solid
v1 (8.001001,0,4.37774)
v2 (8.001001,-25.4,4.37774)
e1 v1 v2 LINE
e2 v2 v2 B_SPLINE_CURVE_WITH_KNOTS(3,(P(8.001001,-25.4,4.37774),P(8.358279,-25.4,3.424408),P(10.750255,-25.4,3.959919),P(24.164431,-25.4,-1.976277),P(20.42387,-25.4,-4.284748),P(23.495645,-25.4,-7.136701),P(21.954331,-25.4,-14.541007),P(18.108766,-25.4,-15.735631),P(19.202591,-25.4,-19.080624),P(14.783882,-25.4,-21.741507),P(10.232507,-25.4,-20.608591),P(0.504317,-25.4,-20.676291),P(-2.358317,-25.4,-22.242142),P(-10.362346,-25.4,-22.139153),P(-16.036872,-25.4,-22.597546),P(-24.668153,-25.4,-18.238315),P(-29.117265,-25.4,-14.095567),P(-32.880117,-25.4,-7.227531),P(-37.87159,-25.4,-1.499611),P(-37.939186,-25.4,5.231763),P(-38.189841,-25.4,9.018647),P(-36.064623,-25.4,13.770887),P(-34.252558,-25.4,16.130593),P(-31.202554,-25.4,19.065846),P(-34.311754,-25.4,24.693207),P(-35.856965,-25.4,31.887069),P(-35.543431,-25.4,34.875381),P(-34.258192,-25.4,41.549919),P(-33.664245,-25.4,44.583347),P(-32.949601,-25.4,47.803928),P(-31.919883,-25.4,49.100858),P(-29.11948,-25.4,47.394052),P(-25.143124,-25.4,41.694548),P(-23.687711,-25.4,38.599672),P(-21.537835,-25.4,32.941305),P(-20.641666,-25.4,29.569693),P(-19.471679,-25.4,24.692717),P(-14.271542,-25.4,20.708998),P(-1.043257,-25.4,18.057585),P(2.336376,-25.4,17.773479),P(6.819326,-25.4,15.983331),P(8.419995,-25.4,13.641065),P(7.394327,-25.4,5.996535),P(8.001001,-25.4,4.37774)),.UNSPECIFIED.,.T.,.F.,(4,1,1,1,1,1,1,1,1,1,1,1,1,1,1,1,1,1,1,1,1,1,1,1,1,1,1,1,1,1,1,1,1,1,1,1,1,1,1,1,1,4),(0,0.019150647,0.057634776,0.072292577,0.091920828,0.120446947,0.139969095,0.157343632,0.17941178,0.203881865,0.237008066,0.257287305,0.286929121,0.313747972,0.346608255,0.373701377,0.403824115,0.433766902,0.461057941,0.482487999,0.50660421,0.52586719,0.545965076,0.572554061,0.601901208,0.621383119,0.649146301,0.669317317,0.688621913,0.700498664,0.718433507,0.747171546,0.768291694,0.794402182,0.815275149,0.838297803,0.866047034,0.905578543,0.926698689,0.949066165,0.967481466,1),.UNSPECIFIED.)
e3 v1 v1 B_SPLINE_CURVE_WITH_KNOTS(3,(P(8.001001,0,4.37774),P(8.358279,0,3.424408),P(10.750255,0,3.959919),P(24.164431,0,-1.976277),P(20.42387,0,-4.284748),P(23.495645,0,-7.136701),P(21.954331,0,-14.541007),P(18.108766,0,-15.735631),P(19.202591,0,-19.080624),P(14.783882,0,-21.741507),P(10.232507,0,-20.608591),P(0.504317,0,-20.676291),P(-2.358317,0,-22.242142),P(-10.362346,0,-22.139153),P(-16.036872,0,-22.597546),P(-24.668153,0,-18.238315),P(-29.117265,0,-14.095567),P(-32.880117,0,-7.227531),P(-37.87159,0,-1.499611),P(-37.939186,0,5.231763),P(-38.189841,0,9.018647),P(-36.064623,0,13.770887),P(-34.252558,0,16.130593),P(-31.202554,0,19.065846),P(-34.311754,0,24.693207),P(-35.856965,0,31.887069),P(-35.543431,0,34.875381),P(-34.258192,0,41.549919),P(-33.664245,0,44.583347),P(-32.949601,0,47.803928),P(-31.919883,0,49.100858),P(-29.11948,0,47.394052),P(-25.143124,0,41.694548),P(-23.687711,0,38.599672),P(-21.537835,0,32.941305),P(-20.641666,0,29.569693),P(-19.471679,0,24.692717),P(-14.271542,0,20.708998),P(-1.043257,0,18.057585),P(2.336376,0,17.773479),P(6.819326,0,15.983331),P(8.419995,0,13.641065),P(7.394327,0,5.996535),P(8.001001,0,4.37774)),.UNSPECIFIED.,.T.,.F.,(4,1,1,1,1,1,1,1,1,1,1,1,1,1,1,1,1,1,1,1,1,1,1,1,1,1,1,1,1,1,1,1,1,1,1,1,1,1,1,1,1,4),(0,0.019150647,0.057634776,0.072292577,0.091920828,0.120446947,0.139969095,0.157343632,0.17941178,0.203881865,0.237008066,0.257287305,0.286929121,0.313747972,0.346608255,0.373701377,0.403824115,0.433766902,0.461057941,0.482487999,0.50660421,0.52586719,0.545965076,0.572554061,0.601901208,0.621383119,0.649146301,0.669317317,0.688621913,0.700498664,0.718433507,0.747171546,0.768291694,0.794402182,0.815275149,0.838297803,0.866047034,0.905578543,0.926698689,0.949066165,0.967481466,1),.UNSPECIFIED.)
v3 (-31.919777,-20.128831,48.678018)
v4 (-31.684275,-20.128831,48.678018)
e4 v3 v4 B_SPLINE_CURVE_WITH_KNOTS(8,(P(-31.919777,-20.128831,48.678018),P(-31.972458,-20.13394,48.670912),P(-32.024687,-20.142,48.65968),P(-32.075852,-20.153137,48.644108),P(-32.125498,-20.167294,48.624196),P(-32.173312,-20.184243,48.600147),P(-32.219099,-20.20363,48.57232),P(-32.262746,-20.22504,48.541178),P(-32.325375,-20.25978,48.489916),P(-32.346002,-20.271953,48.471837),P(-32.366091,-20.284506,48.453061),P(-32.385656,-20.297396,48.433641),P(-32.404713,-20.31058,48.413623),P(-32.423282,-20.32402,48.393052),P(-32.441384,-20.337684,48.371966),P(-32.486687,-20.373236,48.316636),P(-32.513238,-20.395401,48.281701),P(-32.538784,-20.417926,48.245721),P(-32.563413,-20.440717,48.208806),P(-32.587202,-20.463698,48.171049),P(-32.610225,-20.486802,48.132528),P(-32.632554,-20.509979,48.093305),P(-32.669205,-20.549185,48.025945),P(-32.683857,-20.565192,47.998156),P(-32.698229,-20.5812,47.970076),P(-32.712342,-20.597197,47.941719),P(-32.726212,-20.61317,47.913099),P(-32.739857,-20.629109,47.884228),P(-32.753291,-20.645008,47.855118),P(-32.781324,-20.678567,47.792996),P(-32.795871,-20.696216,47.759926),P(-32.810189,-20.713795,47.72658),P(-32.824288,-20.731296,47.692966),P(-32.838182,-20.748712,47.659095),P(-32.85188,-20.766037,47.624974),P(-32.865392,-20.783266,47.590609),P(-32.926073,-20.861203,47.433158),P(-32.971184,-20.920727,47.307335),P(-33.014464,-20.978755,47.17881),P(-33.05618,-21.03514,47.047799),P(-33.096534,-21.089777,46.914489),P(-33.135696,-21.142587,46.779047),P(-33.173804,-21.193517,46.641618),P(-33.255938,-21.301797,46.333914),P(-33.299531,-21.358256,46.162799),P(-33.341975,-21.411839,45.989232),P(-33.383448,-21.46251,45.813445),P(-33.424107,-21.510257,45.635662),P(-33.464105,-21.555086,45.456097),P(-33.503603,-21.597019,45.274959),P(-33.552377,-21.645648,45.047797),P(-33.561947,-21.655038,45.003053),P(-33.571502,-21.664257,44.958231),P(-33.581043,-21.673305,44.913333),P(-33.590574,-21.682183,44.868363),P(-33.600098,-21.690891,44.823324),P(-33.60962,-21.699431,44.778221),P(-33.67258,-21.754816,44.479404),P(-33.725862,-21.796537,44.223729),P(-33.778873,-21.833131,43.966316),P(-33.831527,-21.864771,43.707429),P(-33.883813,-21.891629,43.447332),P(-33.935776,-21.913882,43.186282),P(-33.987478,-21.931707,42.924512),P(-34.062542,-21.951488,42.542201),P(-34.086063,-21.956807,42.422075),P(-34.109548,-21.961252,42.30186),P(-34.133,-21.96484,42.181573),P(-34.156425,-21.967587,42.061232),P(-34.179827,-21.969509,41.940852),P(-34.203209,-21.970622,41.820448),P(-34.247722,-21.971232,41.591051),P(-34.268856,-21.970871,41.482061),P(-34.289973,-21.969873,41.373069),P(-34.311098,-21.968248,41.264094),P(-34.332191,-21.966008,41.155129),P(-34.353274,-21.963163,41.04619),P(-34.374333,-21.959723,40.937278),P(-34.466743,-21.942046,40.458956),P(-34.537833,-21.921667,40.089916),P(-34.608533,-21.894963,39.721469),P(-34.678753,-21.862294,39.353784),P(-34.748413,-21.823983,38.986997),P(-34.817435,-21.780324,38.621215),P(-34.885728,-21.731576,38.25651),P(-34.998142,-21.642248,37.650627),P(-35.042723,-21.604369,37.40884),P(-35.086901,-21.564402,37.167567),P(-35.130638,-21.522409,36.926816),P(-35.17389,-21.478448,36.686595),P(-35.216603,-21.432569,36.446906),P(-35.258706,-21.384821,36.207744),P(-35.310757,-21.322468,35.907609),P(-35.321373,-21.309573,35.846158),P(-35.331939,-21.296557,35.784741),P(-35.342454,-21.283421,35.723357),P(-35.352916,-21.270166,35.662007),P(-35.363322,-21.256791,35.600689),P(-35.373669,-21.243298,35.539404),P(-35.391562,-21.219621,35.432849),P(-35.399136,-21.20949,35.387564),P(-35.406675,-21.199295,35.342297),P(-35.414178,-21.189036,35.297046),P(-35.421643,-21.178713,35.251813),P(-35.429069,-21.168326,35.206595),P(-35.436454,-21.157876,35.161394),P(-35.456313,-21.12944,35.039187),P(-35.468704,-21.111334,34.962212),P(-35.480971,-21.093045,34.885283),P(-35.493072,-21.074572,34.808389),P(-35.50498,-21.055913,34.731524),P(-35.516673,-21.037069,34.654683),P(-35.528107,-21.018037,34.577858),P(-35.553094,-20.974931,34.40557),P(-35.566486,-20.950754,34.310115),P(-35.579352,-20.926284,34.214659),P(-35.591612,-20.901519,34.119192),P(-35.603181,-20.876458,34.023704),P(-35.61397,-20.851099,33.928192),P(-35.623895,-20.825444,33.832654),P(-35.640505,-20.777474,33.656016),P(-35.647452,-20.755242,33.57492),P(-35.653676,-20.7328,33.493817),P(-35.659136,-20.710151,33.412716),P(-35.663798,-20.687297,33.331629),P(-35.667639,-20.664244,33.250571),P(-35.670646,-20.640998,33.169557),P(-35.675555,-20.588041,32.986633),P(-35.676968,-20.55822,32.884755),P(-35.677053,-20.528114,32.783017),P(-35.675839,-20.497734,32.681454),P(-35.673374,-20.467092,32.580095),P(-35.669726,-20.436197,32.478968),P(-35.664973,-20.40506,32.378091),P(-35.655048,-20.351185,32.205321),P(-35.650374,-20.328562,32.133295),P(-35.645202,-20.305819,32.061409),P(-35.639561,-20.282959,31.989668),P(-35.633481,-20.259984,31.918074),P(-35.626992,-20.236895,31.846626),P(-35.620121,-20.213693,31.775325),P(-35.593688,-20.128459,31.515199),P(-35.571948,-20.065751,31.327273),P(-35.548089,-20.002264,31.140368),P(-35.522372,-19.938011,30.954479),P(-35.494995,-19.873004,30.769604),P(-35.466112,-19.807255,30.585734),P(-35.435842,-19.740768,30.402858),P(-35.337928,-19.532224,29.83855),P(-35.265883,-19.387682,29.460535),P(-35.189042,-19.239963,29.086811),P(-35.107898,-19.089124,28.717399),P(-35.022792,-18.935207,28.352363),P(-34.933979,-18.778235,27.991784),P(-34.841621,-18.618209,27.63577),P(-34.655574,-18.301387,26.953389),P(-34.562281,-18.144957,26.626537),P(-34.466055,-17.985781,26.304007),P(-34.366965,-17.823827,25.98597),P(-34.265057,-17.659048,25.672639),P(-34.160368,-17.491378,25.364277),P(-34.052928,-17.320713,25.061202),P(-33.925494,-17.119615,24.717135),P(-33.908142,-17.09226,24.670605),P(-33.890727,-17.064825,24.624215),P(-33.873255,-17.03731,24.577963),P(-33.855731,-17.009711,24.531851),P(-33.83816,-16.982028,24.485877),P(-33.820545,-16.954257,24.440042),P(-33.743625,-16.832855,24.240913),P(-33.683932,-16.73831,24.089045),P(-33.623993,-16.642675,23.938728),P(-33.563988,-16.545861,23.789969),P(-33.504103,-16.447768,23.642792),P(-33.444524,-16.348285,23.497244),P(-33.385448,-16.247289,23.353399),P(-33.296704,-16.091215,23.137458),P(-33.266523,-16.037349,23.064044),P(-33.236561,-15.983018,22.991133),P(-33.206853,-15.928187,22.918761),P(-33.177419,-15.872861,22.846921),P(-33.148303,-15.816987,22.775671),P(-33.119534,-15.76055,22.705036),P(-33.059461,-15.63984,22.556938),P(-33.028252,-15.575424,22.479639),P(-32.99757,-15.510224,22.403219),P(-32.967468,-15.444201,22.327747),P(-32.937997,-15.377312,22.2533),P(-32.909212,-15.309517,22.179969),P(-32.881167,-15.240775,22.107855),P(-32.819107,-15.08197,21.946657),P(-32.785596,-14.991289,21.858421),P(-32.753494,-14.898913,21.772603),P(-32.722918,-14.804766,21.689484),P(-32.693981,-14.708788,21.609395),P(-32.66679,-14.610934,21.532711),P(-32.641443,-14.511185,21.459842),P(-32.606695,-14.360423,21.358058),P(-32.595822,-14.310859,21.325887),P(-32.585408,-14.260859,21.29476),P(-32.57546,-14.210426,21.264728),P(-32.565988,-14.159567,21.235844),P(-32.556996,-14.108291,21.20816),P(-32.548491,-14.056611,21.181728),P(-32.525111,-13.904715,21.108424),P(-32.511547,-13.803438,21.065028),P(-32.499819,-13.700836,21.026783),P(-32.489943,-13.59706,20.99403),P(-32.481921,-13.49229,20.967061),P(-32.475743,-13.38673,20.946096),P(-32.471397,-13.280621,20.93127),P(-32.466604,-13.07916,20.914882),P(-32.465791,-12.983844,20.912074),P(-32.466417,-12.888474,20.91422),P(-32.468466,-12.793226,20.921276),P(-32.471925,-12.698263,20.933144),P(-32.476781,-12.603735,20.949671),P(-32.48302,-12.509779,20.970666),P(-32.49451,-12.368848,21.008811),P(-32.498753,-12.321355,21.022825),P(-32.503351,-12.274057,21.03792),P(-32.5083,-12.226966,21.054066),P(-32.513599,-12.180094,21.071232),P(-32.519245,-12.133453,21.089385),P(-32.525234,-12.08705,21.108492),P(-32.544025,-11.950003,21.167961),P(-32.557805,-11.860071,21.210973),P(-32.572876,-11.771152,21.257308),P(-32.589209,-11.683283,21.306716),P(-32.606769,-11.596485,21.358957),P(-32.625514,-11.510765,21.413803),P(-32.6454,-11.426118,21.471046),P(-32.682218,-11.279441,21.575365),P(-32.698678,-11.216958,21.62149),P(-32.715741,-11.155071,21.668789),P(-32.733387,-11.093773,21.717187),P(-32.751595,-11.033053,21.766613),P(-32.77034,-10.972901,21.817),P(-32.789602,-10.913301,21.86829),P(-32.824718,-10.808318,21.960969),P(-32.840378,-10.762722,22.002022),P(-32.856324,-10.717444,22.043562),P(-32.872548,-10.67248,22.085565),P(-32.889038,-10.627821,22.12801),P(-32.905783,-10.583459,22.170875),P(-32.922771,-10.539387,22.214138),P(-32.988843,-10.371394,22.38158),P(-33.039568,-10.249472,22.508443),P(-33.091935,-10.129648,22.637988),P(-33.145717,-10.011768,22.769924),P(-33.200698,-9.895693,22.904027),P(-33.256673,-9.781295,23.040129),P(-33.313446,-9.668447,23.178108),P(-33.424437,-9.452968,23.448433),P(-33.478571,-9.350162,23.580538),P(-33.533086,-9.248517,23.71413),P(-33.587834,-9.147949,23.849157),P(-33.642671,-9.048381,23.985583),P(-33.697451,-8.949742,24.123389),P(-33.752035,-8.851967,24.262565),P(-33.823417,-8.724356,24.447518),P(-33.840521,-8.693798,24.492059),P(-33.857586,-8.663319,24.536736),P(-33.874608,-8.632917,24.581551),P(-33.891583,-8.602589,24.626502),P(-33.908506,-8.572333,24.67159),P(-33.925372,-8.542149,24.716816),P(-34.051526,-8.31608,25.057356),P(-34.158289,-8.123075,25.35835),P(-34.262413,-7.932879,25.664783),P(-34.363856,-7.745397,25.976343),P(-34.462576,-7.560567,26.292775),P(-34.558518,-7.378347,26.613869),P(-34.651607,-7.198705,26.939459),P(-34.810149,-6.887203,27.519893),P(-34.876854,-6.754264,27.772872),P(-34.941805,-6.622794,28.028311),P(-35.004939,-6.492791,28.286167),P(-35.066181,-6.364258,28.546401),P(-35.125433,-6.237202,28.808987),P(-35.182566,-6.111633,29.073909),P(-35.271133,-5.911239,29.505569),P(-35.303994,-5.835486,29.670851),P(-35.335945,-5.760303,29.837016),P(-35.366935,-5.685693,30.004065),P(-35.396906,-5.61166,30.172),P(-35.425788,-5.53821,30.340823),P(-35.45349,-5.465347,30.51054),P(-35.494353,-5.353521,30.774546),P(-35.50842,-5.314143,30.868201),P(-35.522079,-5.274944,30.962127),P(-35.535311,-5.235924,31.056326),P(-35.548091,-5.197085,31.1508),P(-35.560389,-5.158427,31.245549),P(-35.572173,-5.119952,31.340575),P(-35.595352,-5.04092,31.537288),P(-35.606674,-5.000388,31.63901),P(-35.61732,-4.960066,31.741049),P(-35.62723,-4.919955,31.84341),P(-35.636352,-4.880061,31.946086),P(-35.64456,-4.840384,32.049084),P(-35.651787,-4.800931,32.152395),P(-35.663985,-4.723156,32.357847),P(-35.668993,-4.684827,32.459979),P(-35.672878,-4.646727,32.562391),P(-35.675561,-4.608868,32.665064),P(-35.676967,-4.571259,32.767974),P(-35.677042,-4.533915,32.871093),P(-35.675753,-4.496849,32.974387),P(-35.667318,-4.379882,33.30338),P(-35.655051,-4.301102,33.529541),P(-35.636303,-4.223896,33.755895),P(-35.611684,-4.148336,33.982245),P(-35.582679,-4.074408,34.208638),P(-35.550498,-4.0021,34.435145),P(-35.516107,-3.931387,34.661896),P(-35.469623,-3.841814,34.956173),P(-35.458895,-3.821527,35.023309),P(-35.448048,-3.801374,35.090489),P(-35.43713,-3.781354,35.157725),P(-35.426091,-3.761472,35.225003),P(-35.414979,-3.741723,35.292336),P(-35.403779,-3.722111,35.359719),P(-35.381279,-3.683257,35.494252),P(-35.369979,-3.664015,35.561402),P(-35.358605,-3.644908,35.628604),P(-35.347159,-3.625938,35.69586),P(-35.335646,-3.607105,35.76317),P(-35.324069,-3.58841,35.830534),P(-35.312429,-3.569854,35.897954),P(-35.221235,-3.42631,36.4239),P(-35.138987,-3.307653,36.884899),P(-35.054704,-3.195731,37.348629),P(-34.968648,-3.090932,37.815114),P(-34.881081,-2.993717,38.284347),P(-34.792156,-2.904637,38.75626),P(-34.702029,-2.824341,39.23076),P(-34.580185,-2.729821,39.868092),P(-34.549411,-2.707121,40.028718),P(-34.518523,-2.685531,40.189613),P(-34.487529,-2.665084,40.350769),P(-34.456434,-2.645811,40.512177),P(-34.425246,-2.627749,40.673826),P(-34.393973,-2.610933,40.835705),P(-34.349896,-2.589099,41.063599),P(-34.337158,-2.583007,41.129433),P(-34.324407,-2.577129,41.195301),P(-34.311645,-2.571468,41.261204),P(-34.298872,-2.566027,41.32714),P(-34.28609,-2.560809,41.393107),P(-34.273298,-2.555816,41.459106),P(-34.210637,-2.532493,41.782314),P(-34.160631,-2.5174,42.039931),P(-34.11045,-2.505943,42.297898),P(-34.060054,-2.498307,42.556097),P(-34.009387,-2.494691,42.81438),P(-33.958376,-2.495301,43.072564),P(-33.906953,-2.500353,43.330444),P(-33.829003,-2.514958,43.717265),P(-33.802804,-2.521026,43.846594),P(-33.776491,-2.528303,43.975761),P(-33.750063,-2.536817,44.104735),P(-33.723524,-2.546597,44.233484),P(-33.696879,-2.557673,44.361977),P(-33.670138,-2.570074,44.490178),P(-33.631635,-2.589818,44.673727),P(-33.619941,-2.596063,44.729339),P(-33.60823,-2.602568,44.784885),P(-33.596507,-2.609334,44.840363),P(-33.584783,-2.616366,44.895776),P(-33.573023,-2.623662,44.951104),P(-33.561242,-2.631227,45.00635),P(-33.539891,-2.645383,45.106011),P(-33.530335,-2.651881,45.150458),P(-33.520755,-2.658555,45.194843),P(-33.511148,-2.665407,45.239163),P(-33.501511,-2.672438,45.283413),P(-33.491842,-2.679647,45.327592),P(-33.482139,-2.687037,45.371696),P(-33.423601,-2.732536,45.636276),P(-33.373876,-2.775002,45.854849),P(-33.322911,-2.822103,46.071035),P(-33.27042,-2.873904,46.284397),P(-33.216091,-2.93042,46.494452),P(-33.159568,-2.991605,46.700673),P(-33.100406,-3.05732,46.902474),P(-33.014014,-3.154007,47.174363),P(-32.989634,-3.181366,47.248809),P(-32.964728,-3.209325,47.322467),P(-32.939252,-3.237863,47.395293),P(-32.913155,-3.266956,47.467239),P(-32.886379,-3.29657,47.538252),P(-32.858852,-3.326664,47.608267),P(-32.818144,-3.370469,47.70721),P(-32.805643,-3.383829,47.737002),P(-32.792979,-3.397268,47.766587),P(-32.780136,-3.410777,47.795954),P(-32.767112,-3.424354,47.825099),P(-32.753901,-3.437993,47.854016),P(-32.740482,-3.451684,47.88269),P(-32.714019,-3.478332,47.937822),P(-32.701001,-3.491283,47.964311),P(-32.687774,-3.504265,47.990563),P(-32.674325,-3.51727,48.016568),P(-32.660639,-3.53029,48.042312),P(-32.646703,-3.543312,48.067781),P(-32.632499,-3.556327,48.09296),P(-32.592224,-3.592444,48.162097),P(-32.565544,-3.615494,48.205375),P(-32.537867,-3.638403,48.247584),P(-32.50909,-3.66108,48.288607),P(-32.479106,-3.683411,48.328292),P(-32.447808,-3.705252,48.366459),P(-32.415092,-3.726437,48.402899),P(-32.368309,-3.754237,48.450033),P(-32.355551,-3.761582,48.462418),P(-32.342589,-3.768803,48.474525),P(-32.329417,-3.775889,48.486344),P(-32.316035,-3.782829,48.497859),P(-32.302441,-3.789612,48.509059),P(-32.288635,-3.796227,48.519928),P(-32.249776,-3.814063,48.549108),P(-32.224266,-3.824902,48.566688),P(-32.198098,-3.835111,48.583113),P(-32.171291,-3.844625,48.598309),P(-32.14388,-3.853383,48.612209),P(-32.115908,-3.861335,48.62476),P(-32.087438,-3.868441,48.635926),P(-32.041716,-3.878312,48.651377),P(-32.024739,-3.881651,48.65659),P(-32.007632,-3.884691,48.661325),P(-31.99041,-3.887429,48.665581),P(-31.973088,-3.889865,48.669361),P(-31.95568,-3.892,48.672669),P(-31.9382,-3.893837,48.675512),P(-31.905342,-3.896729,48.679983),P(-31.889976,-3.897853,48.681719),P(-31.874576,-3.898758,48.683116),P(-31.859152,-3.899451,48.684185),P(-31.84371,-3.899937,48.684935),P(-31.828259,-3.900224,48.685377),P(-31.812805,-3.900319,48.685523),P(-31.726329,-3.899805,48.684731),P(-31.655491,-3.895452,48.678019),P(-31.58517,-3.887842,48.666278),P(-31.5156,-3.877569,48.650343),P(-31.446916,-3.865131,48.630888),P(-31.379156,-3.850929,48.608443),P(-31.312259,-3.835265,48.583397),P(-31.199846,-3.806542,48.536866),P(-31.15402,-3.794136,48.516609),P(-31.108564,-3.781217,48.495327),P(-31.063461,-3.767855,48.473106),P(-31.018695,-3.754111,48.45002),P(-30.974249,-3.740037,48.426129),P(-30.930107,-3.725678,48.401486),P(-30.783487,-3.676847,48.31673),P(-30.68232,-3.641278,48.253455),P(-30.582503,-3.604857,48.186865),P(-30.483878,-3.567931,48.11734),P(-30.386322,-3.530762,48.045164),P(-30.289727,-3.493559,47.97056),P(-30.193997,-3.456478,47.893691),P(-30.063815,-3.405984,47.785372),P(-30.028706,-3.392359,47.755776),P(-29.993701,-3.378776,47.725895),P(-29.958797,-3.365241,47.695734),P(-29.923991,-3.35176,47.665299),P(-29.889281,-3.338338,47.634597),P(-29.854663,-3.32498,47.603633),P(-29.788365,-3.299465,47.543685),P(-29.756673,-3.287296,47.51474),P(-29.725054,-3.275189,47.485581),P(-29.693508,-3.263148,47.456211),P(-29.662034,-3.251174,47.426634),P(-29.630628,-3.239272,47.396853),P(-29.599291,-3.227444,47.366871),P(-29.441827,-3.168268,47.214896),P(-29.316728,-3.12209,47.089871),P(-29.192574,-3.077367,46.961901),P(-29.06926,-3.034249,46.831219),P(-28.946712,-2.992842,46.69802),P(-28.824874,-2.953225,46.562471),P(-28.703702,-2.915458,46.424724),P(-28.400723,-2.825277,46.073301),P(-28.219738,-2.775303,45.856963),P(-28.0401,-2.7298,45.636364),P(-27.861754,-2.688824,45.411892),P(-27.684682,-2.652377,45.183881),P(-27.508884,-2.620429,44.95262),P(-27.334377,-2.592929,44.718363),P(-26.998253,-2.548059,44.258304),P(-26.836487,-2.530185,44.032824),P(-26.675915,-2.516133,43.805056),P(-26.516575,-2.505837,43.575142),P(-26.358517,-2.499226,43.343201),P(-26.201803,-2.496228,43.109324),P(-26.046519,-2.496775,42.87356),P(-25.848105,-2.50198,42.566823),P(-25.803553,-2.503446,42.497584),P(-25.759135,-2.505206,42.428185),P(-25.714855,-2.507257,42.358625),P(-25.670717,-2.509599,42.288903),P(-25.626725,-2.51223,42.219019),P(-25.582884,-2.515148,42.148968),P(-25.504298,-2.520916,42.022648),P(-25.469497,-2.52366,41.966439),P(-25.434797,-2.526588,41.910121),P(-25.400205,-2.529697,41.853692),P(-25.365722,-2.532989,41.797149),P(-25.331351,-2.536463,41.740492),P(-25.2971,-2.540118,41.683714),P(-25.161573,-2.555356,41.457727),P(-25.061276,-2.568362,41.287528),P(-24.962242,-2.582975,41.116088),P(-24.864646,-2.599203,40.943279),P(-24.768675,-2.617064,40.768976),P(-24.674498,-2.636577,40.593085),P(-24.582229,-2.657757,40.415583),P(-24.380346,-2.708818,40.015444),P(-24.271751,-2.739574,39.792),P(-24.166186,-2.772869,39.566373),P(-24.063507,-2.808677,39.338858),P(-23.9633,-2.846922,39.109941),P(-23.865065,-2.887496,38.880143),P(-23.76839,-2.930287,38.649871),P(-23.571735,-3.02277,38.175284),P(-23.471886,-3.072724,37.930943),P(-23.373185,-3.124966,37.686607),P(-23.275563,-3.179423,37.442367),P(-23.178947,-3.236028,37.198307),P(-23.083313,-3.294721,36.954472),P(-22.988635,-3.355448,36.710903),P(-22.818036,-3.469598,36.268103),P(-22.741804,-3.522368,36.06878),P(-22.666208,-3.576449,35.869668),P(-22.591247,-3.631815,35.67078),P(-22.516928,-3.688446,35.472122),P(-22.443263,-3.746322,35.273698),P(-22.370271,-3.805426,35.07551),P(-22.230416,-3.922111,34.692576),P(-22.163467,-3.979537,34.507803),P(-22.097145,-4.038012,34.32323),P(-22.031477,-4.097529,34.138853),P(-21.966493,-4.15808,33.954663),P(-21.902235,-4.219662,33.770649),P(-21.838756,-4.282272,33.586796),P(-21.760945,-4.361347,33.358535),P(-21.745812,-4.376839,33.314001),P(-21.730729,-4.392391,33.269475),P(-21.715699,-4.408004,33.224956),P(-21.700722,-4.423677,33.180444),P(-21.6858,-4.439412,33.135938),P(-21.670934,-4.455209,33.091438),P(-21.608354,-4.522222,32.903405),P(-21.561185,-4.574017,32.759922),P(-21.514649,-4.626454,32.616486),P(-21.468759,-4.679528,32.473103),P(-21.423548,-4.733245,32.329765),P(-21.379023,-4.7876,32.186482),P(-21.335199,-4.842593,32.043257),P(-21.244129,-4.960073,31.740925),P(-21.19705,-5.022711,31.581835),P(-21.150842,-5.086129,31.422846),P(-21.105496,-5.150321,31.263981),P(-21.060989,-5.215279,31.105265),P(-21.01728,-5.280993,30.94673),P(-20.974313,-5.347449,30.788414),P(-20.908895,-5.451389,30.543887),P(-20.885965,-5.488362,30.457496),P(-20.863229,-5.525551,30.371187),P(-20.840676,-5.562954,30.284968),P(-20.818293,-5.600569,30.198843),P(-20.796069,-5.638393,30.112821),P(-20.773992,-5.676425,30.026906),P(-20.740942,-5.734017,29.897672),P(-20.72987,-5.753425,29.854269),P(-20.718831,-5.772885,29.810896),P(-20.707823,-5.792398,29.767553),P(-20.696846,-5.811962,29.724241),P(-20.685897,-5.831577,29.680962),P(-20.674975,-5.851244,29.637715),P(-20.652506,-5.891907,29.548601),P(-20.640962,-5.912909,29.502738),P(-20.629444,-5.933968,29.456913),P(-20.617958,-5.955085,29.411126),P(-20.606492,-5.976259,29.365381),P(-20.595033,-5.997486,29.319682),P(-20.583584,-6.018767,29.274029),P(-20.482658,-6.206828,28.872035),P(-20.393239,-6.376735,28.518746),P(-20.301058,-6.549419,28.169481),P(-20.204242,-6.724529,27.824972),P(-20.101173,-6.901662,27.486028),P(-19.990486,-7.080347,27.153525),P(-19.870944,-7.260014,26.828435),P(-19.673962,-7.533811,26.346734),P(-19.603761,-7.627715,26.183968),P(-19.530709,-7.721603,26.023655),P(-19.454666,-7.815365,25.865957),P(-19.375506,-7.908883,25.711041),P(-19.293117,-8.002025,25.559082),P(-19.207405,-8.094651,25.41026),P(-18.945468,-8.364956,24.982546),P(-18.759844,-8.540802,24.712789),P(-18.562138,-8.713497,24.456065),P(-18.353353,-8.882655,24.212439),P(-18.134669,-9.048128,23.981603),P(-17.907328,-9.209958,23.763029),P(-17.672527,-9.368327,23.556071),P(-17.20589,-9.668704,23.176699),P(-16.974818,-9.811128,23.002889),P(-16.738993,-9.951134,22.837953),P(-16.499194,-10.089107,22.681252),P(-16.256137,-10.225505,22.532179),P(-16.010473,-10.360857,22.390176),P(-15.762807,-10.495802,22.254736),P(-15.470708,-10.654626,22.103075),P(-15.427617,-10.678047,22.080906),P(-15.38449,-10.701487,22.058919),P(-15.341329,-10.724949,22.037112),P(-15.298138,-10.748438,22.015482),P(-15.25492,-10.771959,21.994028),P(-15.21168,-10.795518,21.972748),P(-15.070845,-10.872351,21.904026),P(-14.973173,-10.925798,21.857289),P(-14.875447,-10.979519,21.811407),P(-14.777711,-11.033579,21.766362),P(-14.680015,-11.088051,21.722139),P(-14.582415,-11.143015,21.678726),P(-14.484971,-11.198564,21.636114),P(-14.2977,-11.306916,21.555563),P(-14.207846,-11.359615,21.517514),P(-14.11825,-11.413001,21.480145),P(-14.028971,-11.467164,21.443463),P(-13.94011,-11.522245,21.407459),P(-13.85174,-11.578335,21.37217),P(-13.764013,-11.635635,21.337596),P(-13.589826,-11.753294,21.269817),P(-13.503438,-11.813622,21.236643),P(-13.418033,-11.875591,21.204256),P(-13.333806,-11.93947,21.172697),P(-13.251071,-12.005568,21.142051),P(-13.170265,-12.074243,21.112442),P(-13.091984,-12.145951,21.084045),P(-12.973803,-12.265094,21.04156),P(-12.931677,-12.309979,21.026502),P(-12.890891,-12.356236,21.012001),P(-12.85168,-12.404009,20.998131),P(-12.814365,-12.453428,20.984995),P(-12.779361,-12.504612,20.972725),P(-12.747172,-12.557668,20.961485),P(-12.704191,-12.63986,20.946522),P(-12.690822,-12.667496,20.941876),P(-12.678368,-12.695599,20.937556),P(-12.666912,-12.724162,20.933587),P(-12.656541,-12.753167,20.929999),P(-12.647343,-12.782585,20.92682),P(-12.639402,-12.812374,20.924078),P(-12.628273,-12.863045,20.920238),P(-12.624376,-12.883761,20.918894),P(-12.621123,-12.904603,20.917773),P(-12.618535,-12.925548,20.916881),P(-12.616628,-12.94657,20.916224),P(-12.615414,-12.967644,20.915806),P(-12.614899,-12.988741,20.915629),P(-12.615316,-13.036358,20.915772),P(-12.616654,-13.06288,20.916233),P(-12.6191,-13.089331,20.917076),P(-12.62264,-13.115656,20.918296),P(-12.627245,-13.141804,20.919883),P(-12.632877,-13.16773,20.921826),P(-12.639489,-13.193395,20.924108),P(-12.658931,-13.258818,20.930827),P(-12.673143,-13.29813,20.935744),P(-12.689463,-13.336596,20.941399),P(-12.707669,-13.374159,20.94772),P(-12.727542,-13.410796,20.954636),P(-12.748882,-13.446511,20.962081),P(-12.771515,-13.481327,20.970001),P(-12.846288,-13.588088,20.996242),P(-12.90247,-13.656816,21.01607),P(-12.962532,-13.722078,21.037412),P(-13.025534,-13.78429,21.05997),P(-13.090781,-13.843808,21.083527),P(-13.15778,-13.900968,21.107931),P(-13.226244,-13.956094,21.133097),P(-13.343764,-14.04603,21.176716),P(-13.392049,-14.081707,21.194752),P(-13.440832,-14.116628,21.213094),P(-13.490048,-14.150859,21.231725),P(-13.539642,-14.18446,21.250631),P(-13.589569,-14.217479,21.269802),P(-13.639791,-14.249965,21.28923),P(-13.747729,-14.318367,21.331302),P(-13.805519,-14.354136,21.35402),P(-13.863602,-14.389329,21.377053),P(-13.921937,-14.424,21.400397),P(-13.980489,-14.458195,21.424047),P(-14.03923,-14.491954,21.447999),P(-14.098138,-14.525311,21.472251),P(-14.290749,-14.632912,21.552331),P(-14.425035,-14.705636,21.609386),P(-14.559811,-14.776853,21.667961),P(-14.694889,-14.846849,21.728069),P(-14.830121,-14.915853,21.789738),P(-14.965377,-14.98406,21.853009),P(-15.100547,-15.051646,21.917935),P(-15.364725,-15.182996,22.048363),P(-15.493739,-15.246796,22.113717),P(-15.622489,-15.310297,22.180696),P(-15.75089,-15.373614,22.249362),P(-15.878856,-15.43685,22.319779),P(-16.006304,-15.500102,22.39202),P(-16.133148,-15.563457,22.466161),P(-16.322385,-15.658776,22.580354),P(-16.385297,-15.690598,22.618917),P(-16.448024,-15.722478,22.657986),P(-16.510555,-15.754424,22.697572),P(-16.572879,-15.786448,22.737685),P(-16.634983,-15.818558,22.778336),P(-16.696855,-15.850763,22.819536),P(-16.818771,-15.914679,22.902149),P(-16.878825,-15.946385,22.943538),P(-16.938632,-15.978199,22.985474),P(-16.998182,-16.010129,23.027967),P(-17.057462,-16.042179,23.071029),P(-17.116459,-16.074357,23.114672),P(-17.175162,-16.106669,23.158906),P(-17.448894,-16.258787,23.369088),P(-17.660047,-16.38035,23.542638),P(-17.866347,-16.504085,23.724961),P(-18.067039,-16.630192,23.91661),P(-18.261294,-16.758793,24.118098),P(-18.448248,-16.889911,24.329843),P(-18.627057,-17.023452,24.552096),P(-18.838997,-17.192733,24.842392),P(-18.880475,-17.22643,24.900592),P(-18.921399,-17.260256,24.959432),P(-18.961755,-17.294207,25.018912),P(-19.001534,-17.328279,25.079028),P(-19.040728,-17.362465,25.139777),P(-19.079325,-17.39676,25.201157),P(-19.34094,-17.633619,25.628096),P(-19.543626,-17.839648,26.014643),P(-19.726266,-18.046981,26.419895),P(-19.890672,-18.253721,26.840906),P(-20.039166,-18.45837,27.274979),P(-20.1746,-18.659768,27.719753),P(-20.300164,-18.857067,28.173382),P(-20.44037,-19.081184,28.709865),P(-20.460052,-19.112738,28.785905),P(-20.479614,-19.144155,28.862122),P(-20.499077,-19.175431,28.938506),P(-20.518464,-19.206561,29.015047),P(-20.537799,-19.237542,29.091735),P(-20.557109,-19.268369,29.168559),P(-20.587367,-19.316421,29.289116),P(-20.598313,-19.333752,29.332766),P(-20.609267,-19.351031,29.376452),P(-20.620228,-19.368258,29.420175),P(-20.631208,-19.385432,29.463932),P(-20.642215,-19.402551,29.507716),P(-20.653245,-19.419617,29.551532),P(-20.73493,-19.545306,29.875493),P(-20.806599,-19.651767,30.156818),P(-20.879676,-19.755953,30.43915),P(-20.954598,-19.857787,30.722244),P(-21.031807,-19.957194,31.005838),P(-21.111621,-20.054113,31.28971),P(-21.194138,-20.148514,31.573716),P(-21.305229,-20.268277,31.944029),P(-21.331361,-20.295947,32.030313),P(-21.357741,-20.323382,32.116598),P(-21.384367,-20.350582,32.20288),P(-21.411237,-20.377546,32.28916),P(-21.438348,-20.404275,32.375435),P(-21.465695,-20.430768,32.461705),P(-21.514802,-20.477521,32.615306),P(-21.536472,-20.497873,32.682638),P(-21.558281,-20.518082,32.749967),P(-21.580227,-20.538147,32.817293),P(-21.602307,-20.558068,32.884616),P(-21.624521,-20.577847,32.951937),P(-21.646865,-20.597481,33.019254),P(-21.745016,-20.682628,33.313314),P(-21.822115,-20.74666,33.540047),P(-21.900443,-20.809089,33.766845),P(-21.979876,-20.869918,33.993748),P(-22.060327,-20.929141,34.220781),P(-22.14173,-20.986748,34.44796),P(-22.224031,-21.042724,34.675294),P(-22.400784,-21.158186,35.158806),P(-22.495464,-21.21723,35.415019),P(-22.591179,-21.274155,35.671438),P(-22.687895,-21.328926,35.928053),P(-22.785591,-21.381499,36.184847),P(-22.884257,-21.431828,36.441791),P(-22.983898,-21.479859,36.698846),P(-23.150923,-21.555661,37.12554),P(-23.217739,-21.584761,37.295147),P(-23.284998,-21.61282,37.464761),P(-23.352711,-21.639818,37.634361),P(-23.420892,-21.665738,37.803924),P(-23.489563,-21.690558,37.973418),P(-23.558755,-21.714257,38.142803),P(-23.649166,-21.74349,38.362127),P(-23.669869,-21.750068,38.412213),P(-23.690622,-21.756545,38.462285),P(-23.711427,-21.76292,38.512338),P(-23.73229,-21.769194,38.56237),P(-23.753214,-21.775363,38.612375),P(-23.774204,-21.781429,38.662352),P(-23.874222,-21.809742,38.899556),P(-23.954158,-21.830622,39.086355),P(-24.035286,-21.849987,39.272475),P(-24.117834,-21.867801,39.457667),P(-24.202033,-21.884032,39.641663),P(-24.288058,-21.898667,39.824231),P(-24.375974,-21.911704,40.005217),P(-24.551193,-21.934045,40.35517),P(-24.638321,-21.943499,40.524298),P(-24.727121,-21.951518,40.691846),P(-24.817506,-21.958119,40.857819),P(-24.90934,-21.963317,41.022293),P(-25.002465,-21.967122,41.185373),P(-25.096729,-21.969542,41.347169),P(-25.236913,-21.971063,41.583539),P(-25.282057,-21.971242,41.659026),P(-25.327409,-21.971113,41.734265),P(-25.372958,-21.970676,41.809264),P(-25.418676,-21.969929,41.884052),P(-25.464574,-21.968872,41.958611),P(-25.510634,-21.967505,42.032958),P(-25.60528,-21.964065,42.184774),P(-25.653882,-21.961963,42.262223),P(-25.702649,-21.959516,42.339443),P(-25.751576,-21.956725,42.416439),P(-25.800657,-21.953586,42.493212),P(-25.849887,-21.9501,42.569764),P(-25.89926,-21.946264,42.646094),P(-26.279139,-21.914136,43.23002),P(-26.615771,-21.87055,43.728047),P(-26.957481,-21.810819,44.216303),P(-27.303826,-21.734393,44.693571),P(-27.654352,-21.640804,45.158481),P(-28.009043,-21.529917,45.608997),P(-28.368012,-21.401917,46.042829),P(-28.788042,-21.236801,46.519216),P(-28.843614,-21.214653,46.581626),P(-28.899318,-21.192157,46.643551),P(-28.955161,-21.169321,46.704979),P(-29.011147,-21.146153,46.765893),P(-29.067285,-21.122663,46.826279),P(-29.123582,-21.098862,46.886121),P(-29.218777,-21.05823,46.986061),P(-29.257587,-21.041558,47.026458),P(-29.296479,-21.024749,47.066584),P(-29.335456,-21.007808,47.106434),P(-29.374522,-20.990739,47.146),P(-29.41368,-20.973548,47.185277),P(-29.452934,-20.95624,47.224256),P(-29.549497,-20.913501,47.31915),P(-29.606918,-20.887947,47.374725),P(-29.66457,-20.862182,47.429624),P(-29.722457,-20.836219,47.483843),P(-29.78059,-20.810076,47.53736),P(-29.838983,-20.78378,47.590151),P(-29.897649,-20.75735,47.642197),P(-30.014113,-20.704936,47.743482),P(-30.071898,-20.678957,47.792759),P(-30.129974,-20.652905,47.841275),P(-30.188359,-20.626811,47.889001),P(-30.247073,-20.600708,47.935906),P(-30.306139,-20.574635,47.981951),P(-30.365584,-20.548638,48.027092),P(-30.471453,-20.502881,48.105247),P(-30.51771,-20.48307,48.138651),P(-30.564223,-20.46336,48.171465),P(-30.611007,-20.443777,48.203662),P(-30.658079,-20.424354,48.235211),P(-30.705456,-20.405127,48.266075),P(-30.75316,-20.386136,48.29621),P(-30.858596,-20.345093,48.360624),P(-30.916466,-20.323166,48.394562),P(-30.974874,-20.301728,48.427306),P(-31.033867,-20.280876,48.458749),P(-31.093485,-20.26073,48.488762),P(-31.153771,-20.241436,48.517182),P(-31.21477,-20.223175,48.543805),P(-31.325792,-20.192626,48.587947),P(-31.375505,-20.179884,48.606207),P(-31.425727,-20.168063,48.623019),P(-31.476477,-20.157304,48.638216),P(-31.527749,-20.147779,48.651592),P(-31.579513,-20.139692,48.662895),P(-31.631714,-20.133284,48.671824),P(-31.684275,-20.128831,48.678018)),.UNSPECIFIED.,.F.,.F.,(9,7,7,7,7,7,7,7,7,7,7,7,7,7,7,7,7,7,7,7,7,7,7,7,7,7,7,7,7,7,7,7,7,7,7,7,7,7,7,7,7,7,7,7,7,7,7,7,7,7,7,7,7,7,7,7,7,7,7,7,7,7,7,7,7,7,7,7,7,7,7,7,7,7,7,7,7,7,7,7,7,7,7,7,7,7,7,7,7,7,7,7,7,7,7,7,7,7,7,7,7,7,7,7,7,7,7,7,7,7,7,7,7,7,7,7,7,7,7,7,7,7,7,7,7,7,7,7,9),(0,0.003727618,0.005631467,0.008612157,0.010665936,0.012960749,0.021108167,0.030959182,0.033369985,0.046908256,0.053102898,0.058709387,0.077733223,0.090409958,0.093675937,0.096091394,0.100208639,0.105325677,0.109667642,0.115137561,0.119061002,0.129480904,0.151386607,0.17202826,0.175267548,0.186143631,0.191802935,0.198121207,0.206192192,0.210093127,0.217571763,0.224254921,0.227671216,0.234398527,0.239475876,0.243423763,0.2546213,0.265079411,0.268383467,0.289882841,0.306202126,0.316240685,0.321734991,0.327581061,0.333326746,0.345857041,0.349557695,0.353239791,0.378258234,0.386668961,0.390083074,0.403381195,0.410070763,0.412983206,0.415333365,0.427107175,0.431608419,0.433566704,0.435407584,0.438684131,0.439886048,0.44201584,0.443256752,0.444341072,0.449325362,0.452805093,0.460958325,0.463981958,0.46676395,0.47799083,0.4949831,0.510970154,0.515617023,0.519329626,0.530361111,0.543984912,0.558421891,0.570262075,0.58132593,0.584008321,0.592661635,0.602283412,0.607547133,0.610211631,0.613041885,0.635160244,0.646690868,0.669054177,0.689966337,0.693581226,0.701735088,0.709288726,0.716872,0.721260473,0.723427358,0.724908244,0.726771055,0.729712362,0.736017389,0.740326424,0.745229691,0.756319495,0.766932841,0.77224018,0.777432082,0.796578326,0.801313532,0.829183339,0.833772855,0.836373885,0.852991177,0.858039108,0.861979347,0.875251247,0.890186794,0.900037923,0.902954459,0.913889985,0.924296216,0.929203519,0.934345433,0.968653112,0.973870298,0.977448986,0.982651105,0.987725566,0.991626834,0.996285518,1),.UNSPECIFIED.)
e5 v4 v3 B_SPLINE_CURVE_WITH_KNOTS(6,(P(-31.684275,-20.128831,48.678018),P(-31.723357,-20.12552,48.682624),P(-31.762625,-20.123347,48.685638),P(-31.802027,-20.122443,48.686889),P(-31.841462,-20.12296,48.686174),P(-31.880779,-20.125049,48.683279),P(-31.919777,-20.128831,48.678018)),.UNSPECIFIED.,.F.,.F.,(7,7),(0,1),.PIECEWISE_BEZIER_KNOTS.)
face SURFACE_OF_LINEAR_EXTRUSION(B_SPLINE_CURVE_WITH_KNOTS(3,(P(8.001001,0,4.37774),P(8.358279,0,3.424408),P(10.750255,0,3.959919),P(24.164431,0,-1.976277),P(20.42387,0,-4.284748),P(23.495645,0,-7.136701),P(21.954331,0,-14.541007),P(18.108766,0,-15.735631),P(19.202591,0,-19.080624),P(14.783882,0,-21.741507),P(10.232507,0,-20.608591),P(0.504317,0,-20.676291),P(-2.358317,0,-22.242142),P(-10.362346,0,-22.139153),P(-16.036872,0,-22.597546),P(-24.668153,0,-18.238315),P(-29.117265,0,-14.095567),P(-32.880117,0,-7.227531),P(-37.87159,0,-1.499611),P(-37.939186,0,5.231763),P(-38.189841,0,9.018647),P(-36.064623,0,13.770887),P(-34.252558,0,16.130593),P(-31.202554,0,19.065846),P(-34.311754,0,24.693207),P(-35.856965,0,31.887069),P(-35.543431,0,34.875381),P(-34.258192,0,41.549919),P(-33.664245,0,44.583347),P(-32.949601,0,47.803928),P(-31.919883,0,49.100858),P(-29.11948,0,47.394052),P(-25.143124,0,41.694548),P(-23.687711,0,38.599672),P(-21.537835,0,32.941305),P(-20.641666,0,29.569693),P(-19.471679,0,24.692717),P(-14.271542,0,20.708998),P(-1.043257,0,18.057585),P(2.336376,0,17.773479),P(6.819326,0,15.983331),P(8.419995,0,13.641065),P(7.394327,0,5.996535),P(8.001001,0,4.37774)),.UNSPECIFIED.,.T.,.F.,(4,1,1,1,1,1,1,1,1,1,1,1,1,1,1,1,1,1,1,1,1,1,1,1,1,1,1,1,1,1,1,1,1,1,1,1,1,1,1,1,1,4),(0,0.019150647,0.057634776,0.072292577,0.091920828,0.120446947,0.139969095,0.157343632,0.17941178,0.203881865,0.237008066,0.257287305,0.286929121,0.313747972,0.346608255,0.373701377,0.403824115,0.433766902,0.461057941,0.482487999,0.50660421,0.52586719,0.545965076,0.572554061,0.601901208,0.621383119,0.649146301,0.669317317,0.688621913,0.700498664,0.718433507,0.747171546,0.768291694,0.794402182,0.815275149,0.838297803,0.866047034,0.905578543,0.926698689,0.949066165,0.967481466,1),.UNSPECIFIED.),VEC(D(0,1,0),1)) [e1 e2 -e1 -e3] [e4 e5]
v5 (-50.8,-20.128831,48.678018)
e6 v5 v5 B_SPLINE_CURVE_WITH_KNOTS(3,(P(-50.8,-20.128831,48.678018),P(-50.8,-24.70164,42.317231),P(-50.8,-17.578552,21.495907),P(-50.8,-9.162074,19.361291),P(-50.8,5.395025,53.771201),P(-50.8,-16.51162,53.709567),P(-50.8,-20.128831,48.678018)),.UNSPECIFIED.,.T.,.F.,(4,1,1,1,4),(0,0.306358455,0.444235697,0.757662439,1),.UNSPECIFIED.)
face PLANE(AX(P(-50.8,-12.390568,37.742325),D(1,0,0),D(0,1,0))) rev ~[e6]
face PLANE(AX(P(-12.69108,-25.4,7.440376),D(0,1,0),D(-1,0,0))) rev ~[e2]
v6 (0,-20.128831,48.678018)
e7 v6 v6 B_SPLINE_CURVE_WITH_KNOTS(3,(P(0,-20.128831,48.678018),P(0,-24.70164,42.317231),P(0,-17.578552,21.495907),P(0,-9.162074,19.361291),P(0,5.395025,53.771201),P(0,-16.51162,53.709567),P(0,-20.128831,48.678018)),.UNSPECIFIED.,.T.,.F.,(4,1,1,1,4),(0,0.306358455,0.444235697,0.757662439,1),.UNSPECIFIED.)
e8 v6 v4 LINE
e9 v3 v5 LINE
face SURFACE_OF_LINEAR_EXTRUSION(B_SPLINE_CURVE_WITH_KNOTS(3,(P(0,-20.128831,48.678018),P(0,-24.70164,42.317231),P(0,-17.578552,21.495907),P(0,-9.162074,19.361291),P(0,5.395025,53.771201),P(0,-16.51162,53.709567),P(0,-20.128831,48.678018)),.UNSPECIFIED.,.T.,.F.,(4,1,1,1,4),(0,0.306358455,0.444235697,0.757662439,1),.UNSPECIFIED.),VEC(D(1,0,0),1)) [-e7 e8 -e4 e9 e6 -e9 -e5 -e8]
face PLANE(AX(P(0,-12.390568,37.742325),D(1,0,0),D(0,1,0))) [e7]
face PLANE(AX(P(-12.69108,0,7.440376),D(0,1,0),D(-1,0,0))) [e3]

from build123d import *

# Parameters (mm, degrees)
F1_DEPTH = 25.4
F3_DEPTH = 50.8


with BuildPart() as f1:
    # F0 (on Front) → F1 (new body)
    with BuildSketch(Plane.XZ):
        with BuildLine():
            add(Edge.make_bspline(
                [(8.0010006204, 4.3777404353), (8.3582794748, 3.4244080955), (10.7502548196, 3.959918744), (24.1644312283, -1.9762769872), (20.4238697881, -4.2847478552), (23.4956450566, -7.1367006993), (21.9543309608, -14.541007216), (18.1087661941, -15.7356305944), (19.2025905799, -19.0806243774), (14.7838821715, -21.7415074168), (10.2325065168, -20.6085910053), (0.5043169085, -20.6762905731), (-2.358317402, -22.2421417718), (-10.3623459761, -22.1391526053), (-16.0368723254, -22.5975457088), (-24.6681530674, -18.238314794), (-29.1172649205, -14.0955665881), (-32.8801171455, -7.2275308891), (-37.8715900791, -1.4996114463), (-37.9391857188, 5.2317630999), (-38.1898406876, 9.0186470796), (-36.0646232716, 13.7708874926), (-34.252558111, 16.1305927367), (-31.2025536812, 19.0658459809), (-34.3117540389, 24.6932067787), (-35.8569654484, 31.8870694934), (-35.5434314916, 34.8753814941), (-34.2581921295, 41.5499185697), (-33.6642449839, 44.5833466968), (-32.9496008871, 47.80392771), (-31.9198831418, 49.1008579771), (-29.1194803029, 47.3940518971), (-25.1431244993, 41.6945477963), (-23.6877106588, 38.5996719346), (-21.5378348498, 32.9413049135), (-20.6416662695, 29.5696929359), (-19.4716791609, 24.6927170159), (-14.2715422308, 20.7089983324), (-1.0432571992, 18.0575850817), (2.3363760609, 17.7734787212), (6.8193262123, 15.9833313846), (8.4199954719, 13.6410645852), (7.3943273942, 5.9965353883), (8.0010006204, 4.3777404353)],
                knots=[0, 0, 0, 0, 0.0191506465, 0.0576347762, 0.0722925774, 0.0919208279, 0.1204469473, 0.1399690945, 0.157343632, 0.1794117799, 0.2038818654, 0.2370080664, 0.257287305, 0.2869291212, 0.3137479724, 0.3466082554, 0.3737013771, 0.4038241152, 0.433766902, 0.4610579406, 0.4824879986, 0.5066042103, 0.5258671901, 0.545965076, 0.5725540611, 0.6019012083, 0.6213831193, 0.6491463014, 0.6693173169, 0.6886219127, 0.7004986642, 0.7184335073, 0.7471715463, 0.7682916939, 0.794402182, 0.8152751485, 0.8382978032, 0.8660470342, 0.9055785434, 0.9266986891, 0.9490661651, 0.9674814662, 1, 1, 1, 1], degree=3))
        make_face()
    extrude(amount=F1_DEPTH)

    # F2 (on Right) → F3 (join)
    with BuildSketch(Plane.YZ):
        with BuildLine():
            add(Edge.make_bspline(
                [(-20.1288312674, 48.6780181527), (-24.7016401699, 42.3172314995), (-17.5785524504, 21.4959066), (-9.1620738317, 19.3612913084), (5.3950247427, 53.7712013521), (-16.5116196672, 53.7095669793), (-20.1288312674, 48.6780181527)],
                knots=[0, 0, 0, 0, 0.3063584548, 0.4442356973, 0.757662439, 1, 1, 1, 1], degree=3))
        make_face()
    extrude(amount=-F3_DEPTH)


solid = f1.part
